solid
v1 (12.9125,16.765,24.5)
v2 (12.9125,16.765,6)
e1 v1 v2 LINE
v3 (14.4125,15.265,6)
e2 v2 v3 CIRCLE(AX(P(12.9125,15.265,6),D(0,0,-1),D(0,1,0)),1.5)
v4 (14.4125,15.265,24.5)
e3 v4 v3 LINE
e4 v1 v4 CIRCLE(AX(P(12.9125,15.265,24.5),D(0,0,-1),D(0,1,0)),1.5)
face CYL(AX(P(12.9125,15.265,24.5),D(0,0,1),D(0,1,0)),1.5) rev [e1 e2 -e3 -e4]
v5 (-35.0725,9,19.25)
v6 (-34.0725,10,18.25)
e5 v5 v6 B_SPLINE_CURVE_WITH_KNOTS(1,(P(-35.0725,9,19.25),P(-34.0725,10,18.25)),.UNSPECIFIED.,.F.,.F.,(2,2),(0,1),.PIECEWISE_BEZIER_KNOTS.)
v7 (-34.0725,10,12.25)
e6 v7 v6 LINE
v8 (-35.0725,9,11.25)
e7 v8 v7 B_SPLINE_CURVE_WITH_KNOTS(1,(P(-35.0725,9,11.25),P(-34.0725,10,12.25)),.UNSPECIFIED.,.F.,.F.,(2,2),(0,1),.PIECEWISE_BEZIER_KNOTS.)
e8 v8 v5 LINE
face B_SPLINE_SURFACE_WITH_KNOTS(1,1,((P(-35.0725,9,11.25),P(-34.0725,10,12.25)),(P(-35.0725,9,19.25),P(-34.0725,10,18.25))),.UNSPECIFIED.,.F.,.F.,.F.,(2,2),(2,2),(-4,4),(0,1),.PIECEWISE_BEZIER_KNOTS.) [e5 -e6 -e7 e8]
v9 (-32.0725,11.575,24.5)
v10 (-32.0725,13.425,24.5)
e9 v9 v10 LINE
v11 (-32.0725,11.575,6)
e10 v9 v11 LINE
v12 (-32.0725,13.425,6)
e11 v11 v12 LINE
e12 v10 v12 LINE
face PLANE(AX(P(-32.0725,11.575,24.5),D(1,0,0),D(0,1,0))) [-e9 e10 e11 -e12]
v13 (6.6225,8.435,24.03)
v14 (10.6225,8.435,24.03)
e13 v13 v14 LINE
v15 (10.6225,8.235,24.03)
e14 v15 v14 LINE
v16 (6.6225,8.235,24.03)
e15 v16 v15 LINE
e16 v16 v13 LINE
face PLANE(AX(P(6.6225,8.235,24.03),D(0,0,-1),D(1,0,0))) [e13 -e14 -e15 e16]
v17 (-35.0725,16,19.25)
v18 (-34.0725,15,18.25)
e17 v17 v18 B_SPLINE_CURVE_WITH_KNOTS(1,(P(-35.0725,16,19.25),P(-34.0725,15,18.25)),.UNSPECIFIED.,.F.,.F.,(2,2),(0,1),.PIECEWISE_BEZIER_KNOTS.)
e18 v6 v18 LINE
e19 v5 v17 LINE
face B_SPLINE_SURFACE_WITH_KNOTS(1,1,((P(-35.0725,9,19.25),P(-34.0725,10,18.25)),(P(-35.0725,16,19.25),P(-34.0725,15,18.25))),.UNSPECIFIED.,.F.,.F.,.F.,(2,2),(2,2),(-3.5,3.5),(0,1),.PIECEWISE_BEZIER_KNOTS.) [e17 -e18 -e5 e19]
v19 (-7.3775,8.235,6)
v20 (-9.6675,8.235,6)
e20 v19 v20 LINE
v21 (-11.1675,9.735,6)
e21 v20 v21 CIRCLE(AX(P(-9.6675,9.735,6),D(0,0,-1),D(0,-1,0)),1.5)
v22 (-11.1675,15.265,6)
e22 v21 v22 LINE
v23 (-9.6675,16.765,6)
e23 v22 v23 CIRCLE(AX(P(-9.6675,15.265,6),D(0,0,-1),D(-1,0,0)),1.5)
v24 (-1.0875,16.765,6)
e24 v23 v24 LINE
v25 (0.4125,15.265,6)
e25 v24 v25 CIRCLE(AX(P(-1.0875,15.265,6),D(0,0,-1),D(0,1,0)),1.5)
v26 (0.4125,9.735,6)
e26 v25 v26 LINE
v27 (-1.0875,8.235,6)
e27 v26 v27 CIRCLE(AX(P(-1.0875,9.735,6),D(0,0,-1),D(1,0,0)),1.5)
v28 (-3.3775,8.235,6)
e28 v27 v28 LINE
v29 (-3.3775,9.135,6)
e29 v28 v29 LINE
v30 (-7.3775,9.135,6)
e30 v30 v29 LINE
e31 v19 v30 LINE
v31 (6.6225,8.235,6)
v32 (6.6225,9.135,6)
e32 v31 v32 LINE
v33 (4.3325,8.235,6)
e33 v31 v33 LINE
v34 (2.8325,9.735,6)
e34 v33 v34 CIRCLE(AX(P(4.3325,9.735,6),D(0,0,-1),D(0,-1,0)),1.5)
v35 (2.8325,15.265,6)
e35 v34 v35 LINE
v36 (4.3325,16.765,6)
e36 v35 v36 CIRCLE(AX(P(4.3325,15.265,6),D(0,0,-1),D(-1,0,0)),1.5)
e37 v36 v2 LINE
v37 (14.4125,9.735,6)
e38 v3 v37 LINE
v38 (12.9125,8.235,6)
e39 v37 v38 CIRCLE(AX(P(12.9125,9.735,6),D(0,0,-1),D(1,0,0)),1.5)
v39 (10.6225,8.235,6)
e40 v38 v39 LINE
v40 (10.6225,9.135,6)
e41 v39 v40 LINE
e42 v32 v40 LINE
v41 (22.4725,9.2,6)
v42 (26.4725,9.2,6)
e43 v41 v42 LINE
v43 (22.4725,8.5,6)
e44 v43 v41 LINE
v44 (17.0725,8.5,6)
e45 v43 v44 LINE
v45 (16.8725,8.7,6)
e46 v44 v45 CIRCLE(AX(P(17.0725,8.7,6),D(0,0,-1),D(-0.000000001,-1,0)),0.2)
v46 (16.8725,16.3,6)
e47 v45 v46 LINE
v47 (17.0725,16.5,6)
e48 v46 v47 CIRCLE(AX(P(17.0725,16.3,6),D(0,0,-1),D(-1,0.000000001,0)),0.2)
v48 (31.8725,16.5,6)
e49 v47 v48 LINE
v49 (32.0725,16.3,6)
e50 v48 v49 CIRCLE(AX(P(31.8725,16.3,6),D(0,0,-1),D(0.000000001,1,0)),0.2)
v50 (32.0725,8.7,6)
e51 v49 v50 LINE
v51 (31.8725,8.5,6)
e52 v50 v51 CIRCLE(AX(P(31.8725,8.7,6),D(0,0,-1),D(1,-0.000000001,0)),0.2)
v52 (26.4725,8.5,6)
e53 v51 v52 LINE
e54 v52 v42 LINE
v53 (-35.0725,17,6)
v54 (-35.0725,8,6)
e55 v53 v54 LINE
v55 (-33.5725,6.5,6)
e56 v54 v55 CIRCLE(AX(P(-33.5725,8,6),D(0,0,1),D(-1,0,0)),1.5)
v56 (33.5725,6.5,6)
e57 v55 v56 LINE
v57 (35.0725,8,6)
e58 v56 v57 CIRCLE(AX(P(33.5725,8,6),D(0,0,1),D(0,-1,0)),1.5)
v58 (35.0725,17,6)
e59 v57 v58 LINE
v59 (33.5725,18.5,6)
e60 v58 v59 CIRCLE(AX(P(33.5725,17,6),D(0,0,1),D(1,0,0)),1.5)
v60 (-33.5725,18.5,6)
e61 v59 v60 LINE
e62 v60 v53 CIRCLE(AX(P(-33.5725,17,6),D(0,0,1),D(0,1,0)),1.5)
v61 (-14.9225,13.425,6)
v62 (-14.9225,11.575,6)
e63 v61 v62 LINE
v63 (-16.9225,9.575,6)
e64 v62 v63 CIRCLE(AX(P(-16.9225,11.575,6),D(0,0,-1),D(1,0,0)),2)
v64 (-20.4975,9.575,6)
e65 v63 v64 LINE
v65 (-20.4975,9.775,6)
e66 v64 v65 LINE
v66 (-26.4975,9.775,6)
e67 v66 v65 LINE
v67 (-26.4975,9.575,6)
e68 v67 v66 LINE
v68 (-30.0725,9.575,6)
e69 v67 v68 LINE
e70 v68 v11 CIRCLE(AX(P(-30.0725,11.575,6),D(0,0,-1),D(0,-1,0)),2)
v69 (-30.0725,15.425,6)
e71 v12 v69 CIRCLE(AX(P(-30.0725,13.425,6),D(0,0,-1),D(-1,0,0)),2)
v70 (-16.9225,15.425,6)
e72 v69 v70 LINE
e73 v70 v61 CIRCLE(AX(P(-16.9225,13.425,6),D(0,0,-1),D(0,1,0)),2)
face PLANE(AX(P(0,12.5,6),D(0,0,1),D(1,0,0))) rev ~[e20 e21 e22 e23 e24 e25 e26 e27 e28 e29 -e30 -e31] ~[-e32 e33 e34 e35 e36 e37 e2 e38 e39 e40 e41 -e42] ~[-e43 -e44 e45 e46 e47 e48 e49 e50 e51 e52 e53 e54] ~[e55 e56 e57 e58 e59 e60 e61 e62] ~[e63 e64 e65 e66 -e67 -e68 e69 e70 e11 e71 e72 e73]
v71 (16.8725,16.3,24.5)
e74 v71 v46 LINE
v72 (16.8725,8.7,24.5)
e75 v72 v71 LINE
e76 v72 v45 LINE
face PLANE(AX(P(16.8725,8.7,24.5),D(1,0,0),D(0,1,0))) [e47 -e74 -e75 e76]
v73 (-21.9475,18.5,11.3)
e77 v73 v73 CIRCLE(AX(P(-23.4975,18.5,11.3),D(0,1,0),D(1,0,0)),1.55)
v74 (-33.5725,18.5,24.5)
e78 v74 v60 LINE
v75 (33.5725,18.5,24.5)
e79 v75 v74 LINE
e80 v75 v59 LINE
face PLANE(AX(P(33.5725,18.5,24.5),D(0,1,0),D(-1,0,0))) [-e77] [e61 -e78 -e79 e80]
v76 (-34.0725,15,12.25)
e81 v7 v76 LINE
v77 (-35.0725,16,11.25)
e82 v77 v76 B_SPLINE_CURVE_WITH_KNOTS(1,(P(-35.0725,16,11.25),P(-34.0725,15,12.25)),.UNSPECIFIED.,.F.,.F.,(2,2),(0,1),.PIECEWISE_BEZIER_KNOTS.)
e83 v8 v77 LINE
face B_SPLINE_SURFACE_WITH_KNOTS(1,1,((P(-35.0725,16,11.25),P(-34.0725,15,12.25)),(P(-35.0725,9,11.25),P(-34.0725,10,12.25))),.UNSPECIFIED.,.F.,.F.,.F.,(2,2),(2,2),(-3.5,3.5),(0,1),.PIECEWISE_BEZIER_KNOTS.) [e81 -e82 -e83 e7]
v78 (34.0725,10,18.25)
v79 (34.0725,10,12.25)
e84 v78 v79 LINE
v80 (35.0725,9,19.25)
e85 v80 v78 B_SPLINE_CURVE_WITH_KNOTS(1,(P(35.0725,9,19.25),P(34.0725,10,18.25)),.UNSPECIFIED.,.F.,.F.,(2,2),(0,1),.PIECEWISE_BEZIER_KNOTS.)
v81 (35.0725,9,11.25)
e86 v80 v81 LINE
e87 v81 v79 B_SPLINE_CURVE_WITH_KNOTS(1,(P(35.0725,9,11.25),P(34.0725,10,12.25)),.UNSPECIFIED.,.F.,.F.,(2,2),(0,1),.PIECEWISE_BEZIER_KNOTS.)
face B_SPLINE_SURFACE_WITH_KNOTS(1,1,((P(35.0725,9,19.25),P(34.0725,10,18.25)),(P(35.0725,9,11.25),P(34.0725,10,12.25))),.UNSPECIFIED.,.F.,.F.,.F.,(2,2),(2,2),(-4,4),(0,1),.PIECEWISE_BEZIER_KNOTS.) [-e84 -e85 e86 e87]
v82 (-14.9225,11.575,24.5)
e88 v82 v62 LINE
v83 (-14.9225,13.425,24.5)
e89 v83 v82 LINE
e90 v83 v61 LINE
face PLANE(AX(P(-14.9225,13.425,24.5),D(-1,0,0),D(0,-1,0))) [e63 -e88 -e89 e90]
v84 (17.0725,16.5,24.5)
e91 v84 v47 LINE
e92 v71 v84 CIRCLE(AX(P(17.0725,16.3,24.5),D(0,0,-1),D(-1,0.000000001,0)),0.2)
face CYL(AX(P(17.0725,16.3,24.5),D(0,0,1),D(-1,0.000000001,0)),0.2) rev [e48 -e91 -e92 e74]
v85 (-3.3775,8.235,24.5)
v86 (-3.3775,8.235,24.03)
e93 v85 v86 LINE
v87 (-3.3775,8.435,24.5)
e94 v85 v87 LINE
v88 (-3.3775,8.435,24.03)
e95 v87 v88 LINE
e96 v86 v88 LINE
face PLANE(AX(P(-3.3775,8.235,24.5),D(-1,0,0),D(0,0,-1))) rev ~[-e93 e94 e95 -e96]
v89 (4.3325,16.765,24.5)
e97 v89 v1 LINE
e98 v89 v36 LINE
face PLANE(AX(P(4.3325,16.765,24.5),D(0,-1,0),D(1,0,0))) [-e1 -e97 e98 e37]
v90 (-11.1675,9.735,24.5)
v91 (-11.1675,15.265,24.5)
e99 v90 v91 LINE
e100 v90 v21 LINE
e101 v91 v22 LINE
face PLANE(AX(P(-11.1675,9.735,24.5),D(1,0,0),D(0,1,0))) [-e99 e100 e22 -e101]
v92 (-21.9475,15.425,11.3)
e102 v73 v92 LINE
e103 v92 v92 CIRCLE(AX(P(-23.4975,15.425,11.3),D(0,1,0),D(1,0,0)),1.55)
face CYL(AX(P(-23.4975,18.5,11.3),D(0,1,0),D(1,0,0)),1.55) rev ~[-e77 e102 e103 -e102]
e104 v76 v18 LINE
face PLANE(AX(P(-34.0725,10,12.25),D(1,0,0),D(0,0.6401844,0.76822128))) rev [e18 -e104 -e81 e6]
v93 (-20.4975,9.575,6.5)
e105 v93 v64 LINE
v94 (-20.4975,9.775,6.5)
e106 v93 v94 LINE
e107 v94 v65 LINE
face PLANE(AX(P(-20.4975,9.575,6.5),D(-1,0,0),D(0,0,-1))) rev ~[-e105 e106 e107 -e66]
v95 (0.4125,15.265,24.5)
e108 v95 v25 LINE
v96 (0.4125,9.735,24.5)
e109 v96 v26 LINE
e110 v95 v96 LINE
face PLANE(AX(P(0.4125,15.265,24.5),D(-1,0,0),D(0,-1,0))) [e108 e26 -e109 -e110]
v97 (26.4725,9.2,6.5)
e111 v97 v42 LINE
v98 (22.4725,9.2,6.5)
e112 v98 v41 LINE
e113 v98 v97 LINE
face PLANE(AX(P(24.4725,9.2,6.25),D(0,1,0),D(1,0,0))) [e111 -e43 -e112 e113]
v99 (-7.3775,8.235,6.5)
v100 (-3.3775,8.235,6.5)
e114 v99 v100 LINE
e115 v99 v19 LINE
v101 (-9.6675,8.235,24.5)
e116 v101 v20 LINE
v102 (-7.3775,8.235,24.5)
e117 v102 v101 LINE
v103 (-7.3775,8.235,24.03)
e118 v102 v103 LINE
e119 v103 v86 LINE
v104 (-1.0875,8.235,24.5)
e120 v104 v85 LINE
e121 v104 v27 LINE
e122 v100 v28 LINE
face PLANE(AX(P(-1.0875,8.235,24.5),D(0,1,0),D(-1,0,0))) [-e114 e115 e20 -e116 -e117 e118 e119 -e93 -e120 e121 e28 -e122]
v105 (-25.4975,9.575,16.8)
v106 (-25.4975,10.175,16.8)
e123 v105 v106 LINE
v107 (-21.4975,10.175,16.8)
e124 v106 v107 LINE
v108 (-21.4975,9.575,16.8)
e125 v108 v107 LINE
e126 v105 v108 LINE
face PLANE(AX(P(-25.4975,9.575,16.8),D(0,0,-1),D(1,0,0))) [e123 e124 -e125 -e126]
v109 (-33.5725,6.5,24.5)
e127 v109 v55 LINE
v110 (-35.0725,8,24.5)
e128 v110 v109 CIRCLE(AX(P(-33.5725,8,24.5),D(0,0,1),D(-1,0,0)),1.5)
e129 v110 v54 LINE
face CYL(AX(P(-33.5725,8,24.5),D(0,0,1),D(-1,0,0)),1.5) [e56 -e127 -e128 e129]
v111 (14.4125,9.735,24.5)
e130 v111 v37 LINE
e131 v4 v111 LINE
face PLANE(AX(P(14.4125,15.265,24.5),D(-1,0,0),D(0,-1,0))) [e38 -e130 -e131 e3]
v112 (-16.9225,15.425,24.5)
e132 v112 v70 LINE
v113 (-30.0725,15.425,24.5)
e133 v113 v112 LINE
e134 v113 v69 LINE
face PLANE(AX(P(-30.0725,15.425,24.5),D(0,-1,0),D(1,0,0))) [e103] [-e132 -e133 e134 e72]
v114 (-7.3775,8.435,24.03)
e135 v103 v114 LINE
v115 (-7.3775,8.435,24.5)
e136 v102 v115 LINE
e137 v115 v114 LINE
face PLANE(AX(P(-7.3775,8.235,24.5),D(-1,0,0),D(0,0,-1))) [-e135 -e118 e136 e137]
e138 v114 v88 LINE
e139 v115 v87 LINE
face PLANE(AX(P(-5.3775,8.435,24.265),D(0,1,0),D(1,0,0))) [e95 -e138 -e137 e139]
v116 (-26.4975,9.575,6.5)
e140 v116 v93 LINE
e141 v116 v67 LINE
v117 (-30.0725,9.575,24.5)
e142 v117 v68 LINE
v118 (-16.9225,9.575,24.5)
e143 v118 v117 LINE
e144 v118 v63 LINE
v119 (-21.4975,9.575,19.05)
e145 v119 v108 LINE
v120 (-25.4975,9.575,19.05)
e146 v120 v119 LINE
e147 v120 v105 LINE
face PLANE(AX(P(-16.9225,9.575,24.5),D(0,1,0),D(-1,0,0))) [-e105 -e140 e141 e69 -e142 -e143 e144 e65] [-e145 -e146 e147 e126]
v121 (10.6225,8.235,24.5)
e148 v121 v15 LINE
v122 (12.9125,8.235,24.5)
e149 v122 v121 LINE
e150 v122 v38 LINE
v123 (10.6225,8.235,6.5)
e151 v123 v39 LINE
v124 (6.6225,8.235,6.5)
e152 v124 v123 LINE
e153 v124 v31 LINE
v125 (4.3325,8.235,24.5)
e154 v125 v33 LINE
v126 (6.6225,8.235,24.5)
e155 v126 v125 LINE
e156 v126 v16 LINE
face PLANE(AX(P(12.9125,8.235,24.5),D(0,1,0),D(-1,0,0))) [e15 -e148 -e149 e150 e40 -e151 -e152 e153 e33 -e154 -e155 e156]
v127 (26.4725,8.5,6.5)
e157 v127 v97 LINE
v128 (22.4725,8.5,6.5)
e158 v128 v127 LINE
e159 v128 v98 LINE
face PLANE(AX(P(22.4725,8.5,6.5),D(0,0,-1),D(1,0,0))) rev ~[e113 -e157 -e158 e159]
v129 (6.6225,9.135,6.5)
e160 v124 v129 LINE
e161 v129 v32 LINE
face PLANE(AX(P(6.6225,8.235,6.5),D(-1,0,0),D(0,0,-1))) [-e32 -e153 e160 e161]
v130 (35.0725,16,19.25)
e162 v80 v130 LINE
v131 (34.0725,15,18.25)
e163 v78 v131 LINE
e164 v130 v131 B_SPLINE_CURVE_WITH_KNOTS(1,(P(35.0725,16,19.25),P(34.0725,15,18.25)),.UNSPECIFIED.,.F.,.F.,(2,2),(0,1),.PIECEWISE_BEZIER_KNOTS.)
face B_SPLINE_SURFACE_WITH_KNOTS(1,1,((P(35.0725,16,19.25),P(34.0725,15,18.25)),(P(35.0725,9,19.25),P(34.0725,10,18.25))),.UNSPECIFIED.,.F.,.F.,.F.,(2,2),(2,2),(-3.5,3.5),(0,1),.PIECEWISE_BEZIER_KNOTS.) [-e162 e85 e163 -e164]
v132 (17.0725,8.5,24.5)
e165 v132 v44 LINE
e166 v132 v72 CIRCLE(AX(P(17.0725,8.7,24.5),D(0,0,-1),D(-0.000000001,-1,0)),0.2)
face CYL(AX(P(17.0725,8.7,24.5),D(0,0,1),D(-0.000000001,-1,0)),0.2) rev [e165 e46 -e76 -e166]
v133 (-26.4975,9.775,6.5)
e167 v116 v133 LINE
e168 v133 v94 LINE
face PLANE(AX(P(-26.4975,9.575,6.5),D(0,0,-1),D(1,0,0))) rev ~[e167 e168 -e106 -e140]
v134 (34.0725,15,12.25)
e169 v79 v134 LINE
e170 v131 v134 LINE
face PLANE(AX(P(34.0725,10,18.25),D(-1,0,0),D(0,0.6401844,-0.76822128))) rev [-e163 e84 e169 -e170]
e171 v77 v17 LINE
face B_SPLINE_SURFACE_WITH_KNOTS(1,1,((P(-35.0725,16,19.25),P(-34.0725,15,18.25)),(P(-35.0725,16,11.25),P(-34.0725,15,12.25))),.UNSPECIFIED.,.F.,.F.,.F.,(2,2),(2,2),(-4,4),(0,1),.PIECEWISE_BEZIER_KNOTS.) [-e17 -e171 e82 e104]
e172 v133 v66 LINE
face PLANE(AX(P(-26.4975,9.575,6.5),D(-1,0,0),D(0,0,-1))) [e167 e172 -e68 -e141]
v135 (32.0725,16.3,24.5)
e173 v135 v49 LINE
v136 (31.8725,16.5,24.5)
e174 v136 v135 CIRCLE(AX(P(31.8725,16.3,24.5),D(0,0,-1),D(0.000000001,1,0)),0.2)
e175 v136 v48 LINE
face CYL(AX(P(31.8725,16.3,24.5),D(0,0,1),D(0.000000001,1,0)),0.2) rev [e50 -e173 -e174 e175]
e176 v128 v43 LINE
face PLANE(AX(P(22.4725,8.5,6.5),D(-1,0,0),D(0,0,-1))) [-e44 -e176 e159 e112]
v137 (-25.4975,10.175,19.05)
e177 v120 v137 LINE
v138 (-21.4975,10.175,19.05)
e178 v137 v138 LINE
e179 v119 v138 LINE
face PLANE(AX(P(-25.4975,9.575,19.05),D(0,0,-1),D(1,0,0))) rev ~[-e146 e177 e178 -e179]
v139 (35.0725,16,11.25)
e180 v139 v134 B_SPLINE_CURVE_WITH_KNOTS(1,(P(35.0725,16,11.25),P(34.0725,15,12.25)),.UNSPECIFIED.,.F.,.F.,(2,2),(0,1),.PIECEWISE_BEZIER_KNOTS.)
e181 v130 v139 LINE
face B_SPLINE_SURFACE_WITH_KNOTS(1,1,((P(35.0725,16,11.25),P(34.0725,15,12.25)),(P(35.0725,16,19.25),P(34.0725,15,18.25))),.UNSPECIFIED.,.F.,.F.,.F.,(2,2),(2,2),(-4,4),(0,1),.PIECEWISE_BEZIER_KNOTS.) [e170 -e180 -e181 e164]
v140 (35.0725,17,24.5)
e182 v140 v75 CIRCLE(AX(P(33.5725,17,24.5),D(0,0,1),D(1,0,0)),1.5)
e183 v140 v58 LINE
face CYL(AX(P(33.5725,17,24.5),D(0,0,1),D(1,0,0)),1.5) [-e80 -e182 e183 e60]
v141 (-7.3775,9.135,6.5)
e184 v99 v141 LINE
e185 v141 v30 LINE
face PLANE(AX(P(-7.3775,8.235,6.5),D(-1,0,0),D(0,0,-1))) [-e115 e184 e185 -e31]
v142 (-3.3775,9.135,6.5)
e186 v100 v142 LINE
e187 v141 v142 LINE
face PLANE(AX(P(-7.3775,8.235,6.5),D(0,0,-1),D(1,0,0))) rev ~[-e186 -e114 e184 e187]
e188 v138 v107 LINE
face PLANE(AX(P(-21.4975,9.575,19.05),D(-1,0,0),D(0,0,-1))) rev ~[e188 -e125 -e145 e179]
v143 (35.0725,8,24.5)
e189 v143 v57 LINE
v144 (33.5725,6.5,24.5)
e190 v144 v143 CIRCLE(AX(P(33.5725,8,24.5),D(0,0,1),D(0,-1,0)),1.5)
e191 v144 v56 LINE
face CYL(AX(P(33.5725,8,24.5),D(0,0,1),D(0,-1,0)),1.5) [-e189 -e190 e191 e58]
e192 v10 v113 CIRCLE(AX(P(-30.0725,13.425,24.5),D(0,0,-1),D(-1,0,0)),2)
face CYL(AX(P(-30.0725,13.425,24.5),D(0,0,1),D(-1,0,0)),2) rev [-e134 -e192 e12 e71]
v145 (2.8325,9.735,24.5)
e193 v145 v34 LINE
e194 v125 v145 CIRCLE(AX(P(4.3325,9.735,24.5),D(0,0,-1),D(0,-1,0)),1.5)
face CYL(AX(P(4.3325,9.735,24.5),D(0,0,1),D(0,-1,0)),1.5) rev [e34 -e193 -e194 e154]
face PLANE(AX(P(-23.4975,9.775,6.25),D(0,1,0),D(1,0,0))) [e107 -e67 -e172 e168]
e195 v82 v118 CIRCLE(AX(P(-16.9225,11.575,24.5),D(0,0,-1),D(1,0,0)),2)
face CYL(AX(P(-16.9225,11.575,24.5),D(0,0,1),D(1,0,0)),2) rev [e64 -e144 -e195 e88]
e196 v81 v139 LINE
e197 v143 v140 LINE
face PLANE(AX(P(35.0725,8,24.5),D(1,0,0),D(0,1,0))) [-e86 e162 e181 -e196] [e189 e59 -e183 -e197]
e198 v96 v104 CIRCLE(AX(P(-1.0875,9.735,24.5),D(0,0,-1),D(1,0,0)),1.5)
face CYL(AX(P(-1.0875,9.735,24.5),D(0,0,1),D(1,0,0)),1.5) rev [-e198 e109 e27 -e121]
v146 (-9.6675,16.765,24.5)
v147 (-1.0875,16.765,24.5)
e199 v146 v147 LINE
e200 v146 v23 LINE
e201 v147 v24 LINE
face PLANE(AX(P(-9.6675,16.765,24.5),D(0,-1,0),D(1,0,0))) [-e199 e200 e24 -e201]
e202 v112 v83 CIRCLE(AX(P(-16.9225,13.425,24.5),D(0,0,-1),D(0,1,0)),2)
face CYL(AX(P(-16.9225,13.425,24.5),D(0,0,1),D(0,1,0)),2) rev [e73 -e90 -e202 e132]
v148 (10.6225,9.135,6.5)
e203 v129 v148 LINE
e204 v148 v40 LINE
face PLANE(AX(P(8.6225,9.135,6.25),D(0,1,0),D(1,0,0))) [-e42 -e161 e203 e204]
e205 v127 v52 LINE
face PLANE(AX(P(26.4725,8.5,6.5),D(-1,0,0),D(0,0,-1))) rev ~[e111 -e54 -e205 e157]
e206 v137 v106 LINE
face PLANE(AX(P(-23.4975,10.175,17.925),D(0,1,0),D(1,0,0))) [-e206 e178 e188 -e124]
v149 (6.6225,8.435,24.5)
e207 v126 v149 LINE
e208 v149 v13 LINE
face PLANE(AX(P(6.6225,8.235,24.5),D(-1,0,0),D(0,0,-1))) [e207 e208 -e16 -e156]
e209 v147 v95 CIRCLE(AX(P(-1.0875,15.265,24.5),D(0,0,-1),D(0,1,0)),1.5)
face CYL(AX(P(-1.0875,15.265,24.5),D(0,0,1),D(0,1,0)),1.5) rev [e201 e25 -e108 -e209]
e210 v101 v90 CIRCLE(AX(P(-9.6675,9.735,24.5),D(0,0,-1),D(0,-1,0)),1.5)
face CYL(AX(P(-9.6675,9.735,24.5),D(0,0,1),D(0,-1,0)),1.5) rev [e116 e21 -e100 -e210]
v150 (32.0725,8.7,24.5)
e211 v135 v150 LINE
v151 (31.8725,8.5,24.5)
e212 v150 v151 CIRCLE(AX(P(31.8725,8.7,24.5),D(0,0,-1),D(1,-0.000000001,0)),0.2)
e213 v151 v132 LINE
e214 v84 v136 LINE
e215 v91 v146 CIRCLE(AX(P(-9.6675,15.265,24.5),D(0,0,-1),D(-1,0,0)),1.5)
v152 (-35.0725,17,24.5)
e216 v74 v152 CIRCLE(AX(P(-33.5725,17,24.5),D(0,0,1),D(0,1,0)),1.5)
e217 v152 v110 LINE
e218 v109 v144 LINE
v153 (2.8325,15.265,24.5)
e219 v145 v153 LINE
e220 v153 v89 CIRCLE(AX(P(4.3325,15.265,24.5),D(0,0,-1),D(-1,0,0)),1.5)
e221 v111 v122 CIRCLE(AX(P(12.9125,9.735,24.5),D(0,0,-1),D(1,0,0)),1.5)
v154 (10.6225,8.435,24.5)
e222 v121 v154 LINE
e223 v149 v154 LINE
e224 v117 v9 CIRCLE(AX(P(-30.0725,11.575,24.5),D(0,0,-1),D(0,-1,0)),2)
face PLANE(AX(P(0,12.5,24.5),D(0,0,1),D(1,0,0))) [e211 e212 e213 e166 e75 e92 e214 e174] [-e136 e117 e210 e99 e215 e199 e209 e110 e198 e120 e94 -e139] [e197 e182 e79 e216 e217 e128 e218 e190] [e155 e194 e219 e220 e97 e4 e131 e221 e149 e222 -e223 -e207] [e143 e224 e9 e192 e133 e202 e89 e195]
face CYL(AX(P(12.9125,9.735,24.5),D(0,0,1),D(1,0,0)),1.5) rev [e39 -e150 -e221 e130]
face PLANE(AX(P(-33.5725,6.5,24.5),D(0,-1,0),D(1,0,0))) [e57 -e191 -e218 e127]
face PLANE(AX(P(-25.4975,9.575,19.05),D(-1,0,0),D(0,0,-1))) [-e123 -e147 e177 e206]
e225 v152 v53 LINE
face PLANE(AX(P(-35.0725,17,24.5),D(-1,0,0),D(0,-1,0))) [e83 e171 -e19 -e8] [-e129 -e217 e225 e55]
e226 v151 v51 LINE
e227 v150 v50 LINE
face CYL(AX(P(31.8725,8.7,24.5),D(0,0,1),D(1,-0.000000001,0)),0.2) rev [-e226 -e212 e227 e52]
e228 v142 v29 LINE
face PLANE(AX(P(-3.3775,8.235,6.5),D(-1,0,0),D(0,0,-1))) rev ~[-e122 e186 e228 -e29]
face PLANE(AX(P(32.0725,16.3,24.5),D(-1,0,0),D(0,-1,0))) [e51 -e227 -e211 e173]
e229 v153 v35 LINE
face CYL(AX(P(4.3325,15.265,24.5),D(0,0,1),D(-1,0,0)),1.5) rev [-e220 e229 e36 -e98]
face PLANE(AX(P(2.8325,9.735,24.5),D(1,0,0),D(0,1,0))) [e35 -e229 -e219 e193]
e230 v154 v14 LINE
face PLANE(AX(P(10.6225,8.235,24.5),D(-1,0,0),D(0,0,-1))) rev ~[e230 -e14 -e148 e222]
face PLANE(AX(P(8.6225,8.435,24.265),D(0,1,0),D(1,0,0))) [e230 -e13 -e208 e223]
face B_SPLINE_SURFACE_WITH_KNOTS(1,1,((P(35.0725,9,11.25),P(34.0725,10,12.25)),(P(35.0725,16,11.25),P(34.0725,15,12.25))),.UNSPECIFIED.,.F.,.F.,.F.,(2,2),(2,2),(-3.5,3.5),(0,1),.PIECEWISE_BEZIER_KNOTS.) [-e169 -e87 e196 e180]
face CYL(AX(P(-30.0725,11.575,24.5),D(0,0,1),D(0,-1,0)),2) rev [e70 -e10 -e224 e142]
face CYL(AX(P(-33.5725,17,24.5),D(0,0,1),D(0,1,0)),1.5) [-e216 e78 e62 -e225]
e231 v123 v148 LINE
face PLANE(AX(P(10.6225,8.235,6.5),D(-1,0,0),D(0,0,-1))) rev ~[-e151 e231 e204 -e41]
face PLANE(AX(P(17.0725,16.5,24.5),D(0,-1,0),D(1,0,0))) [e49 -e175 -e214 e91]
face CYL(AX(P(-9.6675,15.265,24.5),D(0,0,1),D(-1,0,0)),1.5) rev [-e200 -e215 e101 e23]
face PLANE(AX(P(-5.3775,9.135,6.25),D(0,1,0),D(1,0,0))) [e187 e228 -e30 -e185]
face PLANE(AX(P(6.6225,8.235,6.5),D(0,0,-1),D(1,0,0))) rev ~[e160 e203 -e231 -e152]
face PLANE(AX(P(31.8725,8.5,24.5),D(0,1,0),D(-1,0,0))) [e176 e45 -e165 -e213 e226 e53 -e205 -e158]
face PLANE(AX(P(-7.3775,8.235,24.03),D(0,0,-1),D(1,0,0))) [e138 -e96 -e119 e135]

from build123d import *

# Parameters (mm, degrees)
F2_DEPTH  = 18.5
F3_R      = 1.55
F4_DEPTH  = 3.075
F5_W      = 6
F5_H      = 0.5
F6_DEPTH  = 0.2
F5_W_2    = 4
F5_H_2    = 2.25
F7_DEPTH  = 0.6
F8_W      = 4
F8_H      = 0.5
F9_DEPTH  = 0.9
F8_H_2    = 0.47
F10_DEPTH = 0.2
F11_W     = 4
F11_H     = 0.5
F12_DEPTH = 0.9
F11_H_2   = 0.47
F13_DEPTH = 0.2
F14_W     = 4
F14_H     = 0.5
F15_DEPTH = 0.7
F16_W     = 8
F16_H     = 7
F17_DEPTH = 1
F17_TAPER = 45
F18_W     = 8
F18_H     = 7
F19_DEPTH = 1
F19_TAPER = 45
F22_ANGLE = 90


with BuildPart() as f2:
    # F1 (on Front) → F2 (new body)
    with BuildSketch(Plane.XZ):
        with BuildLine():
            Line((-33.5725, -6), (33.5725, -6))
            ThreePointArc((33.5725, -6), (34.6331601718, -5.5606601718), (35.0725, -4.5))
            Line((35.0725, -4.5), (35.0725, 4.5))
            ThreePointArc((35.0725, 4.5), (34.6331601718, 5.5606601718), (33.5725, 6))
            Line((33.5725, 6), (-33.5725, 6))
            ThreePointArc((-33.5725, 6), (-34.6331601718, 5.5606601718), (-35.0725, 4.5))
            Line((-35.0725, 4.5), (-35.0725, -4.5))
            ThreePointArc((-35.0725, -4.5), (-34.6331601718, -5.5606601718), (-33.5725, -6))
        make_face()
        with BuildLine():
            ThreePointArc((-14.9225, -0.925), (-15.5082864376, -2.3392135624), (-16.9225, -2.925))
            Line((-16.9225, -2.925), (-30.0725, -2.925))
            ThreePointArc((-30.0725, -2.925), (-31.4867135624, -2.3392135624), (-32.0725, -0.925))
            Line((-32.0725, -0.925), (-32.0725, 0.925))
            ThreePointArc((-32.0725, 0.925), (-31.4867135624, 2.3392135624), (-30.0725, 2.925))
            Line((-30.0725, 2.925), (-16.9225, 2.925))
            ThreePointArc((-16.9225, 2.925), (-15.5082864376, 2.3392135624), (-14.9225, 0.925))
            Line((-14.9225, 0.925), (-14.9225, -0.925))
        make_face(mode=Mode.SUBTRACT)
        with BuildLine():
            Line((-9.6675, 4.265), (-1.0875, 4.265))
            ThreePointArc((-1.0875, 4.265), (-0.0268398282, 3.8256601718), (0.4125, 2.765))
            Line((0.4125, 2.765), (0.4125, -2.765))
            ThreePointArc((0.4125, -2.765), (-0.0268398282, -3.8256601718), (-1.0875, -4.265))
            Line((-1.0875, -4.265), (-9.6675, -4.265))
            ThreePointArc((-9.6675, -4.265), (-10.7281601718, -3.8256601718), (-11.1675, -2.765))
            Line((-11.1675, -2.765), (-11.1675, 2.765))
            ThreePointArc((-11.1675, 2.765), (-10.7281601718, 3.8256601718), (-9.6675, 4.265))
        make_face(mode=Mode.SUBTRACT)
        with BuildLine():
            Line((4.3325, 4.265), (12.9125, 4.265))
            ThreePointArc((12.9125, 4.265), (13.9731601718, 3.8256601718), (14.4125, 2.765))
            Line((14.4125, 2.765), (14.4125, -2.765))
            ThreePointArc((14.4125, -2.765), (13.9731601718, -3.8256601718), (12.9125, -4.265))
            Line((12.9125, -4.265), (4.3325, -4.265))
            ThreePointArc((4.3325, -4.265), (3.2718398282, -3.8256601718), (2.8325, -2.765))
            Line((2.8325, -2.765), (2.8325, 2.765))
            ThreePointArc((2.8325, 2.765), (3.2718398282, 3.8256601718), (4.3325, 4.265))
        make_face(mode=Mode.SUBTRACT)
        with BuildLine():
            ThreePointArc((32.0725, -3.8), (32.0139213562, -3.9414213562), (31.8725, -4))
            Line((31.8725, -4), (17.0725, -4))
            ThreePointArc((17.0725, -4), (16.9310786438, -3.9414213562), (16.8725, -3.8))
            Line((16.8725, -3.8), (16.8725, 3.8))
            ThreePointArc((16.8725, 3.8), (16.9310786438, 3.9414213562), (17.0725, 4))
            Line((17.0725, 4), (31.8725, 4))
            ThreePointArc((31.8725, 4), (32.0139213562, 3.9414213562), (32.0725, 3.8))
            Line((32.0725, 3.8), (32.0725, -3.8))
        make_face(mode=Mode.SUBTRACT)
    extrude(amount=-F2_DEPTH)

    # F3 (on face) → F4 (cut, through all)
    with BuildSketch(Plane.XY.offset(6)):
        with Locations((-23.4975, 13.2)):
            Circle(F3_R)
    extrude(amount=-F4_DEPTH, mode=Mode.SUBTRACT)

    # F5 (on face) → F6 (join)
    with BuildSketch(Plane.XY.offset(-2.925)):
        with Locations((-23.4975, 18.25)):
            Rectangle(F5_W, F5_H)
    extrude(amount=F6_DEPTH)

    # F5 (on face) → F7 (join)
    with BuildSketch(Plane.XY.offset(-2.925)):
        with Locations((-23.4975, 6.575)):
            Rectangle(F5_W_2, F5_H_2)
    extrude(amount=F7_DEPTH)

    # F8 (on face) → F9 (join)
    with BuildSketch(Plane.XY.offset(-4.265)):
        with Locations((-5.3775, 18.25)):
            Rectangle(F8_W, F8_H)
    extrude(amount=F9_DEPTH)

    # F8 (on face) → F10 (join)
    with BuildSketch(Plane.XY.offset(-4.265)):
        with Locations((-5.3775, 0.235)):
            Rectangle(F8_W, F8_H_2)
    extrude(amount=F10_DEPTH)

    # F11 (on face) → F12 (join)
    with BuildSketch(Plane.XY.offset(-4.265)):
        with Locations((8.6225, 18.25)):
            Rectangle(F11_W, F11_H)
    extrude(amount=F12_DEPTH)

    # F11 (on face) → F13 (join)
    with BuildSketch(Plane.XY.offset(-4.265)):
        with Locations((8.6225, 0.235)):
            Rectangle(F11_W, F11_H_2)
    extrude(amount=F13_DEPTH)

    # F14 (on face) → F15 (join)
    with BuildSketch(Plane.XY.offset(-4)):
        with Locations((24.4725, 18.25)):
            Rectangle(F14_W, F14_H)
    extrude(amount=F15_DEPTH)

    # F16 (on face) → F17 (cut)
    with BuildSketch(Plane.YZ.offset(35.0725)):
        with Locations((9.25, 0)):
            Rectangle(F16_W, F16_H)
    extrude(amount=-F17_DEPTH, taper=F17_TAPER, mode=Mode.SUBTRACT)

    # F18 (on face) → F19 (cut)
    with BuildSketch(Plane(origin=(-35.0725, 0, 0), x_dir=(0, -1, 0), z_dir=(-1, 0, 0))):
        with Locations((-9.25, 0)):
            Rectangle(F18_W, F18_H)
    extrude(amount=-F19_DEPTH, taper=F19_TAPER, mode=Mode.SUBTRACT)


with BuildPart() as f2_1:
    # F22: moved
    add(f2.part.rotate(Axis((0, 18.5, 6), (-1, 0, 0)), F22_ANGLE))


solid = f2_1.part
